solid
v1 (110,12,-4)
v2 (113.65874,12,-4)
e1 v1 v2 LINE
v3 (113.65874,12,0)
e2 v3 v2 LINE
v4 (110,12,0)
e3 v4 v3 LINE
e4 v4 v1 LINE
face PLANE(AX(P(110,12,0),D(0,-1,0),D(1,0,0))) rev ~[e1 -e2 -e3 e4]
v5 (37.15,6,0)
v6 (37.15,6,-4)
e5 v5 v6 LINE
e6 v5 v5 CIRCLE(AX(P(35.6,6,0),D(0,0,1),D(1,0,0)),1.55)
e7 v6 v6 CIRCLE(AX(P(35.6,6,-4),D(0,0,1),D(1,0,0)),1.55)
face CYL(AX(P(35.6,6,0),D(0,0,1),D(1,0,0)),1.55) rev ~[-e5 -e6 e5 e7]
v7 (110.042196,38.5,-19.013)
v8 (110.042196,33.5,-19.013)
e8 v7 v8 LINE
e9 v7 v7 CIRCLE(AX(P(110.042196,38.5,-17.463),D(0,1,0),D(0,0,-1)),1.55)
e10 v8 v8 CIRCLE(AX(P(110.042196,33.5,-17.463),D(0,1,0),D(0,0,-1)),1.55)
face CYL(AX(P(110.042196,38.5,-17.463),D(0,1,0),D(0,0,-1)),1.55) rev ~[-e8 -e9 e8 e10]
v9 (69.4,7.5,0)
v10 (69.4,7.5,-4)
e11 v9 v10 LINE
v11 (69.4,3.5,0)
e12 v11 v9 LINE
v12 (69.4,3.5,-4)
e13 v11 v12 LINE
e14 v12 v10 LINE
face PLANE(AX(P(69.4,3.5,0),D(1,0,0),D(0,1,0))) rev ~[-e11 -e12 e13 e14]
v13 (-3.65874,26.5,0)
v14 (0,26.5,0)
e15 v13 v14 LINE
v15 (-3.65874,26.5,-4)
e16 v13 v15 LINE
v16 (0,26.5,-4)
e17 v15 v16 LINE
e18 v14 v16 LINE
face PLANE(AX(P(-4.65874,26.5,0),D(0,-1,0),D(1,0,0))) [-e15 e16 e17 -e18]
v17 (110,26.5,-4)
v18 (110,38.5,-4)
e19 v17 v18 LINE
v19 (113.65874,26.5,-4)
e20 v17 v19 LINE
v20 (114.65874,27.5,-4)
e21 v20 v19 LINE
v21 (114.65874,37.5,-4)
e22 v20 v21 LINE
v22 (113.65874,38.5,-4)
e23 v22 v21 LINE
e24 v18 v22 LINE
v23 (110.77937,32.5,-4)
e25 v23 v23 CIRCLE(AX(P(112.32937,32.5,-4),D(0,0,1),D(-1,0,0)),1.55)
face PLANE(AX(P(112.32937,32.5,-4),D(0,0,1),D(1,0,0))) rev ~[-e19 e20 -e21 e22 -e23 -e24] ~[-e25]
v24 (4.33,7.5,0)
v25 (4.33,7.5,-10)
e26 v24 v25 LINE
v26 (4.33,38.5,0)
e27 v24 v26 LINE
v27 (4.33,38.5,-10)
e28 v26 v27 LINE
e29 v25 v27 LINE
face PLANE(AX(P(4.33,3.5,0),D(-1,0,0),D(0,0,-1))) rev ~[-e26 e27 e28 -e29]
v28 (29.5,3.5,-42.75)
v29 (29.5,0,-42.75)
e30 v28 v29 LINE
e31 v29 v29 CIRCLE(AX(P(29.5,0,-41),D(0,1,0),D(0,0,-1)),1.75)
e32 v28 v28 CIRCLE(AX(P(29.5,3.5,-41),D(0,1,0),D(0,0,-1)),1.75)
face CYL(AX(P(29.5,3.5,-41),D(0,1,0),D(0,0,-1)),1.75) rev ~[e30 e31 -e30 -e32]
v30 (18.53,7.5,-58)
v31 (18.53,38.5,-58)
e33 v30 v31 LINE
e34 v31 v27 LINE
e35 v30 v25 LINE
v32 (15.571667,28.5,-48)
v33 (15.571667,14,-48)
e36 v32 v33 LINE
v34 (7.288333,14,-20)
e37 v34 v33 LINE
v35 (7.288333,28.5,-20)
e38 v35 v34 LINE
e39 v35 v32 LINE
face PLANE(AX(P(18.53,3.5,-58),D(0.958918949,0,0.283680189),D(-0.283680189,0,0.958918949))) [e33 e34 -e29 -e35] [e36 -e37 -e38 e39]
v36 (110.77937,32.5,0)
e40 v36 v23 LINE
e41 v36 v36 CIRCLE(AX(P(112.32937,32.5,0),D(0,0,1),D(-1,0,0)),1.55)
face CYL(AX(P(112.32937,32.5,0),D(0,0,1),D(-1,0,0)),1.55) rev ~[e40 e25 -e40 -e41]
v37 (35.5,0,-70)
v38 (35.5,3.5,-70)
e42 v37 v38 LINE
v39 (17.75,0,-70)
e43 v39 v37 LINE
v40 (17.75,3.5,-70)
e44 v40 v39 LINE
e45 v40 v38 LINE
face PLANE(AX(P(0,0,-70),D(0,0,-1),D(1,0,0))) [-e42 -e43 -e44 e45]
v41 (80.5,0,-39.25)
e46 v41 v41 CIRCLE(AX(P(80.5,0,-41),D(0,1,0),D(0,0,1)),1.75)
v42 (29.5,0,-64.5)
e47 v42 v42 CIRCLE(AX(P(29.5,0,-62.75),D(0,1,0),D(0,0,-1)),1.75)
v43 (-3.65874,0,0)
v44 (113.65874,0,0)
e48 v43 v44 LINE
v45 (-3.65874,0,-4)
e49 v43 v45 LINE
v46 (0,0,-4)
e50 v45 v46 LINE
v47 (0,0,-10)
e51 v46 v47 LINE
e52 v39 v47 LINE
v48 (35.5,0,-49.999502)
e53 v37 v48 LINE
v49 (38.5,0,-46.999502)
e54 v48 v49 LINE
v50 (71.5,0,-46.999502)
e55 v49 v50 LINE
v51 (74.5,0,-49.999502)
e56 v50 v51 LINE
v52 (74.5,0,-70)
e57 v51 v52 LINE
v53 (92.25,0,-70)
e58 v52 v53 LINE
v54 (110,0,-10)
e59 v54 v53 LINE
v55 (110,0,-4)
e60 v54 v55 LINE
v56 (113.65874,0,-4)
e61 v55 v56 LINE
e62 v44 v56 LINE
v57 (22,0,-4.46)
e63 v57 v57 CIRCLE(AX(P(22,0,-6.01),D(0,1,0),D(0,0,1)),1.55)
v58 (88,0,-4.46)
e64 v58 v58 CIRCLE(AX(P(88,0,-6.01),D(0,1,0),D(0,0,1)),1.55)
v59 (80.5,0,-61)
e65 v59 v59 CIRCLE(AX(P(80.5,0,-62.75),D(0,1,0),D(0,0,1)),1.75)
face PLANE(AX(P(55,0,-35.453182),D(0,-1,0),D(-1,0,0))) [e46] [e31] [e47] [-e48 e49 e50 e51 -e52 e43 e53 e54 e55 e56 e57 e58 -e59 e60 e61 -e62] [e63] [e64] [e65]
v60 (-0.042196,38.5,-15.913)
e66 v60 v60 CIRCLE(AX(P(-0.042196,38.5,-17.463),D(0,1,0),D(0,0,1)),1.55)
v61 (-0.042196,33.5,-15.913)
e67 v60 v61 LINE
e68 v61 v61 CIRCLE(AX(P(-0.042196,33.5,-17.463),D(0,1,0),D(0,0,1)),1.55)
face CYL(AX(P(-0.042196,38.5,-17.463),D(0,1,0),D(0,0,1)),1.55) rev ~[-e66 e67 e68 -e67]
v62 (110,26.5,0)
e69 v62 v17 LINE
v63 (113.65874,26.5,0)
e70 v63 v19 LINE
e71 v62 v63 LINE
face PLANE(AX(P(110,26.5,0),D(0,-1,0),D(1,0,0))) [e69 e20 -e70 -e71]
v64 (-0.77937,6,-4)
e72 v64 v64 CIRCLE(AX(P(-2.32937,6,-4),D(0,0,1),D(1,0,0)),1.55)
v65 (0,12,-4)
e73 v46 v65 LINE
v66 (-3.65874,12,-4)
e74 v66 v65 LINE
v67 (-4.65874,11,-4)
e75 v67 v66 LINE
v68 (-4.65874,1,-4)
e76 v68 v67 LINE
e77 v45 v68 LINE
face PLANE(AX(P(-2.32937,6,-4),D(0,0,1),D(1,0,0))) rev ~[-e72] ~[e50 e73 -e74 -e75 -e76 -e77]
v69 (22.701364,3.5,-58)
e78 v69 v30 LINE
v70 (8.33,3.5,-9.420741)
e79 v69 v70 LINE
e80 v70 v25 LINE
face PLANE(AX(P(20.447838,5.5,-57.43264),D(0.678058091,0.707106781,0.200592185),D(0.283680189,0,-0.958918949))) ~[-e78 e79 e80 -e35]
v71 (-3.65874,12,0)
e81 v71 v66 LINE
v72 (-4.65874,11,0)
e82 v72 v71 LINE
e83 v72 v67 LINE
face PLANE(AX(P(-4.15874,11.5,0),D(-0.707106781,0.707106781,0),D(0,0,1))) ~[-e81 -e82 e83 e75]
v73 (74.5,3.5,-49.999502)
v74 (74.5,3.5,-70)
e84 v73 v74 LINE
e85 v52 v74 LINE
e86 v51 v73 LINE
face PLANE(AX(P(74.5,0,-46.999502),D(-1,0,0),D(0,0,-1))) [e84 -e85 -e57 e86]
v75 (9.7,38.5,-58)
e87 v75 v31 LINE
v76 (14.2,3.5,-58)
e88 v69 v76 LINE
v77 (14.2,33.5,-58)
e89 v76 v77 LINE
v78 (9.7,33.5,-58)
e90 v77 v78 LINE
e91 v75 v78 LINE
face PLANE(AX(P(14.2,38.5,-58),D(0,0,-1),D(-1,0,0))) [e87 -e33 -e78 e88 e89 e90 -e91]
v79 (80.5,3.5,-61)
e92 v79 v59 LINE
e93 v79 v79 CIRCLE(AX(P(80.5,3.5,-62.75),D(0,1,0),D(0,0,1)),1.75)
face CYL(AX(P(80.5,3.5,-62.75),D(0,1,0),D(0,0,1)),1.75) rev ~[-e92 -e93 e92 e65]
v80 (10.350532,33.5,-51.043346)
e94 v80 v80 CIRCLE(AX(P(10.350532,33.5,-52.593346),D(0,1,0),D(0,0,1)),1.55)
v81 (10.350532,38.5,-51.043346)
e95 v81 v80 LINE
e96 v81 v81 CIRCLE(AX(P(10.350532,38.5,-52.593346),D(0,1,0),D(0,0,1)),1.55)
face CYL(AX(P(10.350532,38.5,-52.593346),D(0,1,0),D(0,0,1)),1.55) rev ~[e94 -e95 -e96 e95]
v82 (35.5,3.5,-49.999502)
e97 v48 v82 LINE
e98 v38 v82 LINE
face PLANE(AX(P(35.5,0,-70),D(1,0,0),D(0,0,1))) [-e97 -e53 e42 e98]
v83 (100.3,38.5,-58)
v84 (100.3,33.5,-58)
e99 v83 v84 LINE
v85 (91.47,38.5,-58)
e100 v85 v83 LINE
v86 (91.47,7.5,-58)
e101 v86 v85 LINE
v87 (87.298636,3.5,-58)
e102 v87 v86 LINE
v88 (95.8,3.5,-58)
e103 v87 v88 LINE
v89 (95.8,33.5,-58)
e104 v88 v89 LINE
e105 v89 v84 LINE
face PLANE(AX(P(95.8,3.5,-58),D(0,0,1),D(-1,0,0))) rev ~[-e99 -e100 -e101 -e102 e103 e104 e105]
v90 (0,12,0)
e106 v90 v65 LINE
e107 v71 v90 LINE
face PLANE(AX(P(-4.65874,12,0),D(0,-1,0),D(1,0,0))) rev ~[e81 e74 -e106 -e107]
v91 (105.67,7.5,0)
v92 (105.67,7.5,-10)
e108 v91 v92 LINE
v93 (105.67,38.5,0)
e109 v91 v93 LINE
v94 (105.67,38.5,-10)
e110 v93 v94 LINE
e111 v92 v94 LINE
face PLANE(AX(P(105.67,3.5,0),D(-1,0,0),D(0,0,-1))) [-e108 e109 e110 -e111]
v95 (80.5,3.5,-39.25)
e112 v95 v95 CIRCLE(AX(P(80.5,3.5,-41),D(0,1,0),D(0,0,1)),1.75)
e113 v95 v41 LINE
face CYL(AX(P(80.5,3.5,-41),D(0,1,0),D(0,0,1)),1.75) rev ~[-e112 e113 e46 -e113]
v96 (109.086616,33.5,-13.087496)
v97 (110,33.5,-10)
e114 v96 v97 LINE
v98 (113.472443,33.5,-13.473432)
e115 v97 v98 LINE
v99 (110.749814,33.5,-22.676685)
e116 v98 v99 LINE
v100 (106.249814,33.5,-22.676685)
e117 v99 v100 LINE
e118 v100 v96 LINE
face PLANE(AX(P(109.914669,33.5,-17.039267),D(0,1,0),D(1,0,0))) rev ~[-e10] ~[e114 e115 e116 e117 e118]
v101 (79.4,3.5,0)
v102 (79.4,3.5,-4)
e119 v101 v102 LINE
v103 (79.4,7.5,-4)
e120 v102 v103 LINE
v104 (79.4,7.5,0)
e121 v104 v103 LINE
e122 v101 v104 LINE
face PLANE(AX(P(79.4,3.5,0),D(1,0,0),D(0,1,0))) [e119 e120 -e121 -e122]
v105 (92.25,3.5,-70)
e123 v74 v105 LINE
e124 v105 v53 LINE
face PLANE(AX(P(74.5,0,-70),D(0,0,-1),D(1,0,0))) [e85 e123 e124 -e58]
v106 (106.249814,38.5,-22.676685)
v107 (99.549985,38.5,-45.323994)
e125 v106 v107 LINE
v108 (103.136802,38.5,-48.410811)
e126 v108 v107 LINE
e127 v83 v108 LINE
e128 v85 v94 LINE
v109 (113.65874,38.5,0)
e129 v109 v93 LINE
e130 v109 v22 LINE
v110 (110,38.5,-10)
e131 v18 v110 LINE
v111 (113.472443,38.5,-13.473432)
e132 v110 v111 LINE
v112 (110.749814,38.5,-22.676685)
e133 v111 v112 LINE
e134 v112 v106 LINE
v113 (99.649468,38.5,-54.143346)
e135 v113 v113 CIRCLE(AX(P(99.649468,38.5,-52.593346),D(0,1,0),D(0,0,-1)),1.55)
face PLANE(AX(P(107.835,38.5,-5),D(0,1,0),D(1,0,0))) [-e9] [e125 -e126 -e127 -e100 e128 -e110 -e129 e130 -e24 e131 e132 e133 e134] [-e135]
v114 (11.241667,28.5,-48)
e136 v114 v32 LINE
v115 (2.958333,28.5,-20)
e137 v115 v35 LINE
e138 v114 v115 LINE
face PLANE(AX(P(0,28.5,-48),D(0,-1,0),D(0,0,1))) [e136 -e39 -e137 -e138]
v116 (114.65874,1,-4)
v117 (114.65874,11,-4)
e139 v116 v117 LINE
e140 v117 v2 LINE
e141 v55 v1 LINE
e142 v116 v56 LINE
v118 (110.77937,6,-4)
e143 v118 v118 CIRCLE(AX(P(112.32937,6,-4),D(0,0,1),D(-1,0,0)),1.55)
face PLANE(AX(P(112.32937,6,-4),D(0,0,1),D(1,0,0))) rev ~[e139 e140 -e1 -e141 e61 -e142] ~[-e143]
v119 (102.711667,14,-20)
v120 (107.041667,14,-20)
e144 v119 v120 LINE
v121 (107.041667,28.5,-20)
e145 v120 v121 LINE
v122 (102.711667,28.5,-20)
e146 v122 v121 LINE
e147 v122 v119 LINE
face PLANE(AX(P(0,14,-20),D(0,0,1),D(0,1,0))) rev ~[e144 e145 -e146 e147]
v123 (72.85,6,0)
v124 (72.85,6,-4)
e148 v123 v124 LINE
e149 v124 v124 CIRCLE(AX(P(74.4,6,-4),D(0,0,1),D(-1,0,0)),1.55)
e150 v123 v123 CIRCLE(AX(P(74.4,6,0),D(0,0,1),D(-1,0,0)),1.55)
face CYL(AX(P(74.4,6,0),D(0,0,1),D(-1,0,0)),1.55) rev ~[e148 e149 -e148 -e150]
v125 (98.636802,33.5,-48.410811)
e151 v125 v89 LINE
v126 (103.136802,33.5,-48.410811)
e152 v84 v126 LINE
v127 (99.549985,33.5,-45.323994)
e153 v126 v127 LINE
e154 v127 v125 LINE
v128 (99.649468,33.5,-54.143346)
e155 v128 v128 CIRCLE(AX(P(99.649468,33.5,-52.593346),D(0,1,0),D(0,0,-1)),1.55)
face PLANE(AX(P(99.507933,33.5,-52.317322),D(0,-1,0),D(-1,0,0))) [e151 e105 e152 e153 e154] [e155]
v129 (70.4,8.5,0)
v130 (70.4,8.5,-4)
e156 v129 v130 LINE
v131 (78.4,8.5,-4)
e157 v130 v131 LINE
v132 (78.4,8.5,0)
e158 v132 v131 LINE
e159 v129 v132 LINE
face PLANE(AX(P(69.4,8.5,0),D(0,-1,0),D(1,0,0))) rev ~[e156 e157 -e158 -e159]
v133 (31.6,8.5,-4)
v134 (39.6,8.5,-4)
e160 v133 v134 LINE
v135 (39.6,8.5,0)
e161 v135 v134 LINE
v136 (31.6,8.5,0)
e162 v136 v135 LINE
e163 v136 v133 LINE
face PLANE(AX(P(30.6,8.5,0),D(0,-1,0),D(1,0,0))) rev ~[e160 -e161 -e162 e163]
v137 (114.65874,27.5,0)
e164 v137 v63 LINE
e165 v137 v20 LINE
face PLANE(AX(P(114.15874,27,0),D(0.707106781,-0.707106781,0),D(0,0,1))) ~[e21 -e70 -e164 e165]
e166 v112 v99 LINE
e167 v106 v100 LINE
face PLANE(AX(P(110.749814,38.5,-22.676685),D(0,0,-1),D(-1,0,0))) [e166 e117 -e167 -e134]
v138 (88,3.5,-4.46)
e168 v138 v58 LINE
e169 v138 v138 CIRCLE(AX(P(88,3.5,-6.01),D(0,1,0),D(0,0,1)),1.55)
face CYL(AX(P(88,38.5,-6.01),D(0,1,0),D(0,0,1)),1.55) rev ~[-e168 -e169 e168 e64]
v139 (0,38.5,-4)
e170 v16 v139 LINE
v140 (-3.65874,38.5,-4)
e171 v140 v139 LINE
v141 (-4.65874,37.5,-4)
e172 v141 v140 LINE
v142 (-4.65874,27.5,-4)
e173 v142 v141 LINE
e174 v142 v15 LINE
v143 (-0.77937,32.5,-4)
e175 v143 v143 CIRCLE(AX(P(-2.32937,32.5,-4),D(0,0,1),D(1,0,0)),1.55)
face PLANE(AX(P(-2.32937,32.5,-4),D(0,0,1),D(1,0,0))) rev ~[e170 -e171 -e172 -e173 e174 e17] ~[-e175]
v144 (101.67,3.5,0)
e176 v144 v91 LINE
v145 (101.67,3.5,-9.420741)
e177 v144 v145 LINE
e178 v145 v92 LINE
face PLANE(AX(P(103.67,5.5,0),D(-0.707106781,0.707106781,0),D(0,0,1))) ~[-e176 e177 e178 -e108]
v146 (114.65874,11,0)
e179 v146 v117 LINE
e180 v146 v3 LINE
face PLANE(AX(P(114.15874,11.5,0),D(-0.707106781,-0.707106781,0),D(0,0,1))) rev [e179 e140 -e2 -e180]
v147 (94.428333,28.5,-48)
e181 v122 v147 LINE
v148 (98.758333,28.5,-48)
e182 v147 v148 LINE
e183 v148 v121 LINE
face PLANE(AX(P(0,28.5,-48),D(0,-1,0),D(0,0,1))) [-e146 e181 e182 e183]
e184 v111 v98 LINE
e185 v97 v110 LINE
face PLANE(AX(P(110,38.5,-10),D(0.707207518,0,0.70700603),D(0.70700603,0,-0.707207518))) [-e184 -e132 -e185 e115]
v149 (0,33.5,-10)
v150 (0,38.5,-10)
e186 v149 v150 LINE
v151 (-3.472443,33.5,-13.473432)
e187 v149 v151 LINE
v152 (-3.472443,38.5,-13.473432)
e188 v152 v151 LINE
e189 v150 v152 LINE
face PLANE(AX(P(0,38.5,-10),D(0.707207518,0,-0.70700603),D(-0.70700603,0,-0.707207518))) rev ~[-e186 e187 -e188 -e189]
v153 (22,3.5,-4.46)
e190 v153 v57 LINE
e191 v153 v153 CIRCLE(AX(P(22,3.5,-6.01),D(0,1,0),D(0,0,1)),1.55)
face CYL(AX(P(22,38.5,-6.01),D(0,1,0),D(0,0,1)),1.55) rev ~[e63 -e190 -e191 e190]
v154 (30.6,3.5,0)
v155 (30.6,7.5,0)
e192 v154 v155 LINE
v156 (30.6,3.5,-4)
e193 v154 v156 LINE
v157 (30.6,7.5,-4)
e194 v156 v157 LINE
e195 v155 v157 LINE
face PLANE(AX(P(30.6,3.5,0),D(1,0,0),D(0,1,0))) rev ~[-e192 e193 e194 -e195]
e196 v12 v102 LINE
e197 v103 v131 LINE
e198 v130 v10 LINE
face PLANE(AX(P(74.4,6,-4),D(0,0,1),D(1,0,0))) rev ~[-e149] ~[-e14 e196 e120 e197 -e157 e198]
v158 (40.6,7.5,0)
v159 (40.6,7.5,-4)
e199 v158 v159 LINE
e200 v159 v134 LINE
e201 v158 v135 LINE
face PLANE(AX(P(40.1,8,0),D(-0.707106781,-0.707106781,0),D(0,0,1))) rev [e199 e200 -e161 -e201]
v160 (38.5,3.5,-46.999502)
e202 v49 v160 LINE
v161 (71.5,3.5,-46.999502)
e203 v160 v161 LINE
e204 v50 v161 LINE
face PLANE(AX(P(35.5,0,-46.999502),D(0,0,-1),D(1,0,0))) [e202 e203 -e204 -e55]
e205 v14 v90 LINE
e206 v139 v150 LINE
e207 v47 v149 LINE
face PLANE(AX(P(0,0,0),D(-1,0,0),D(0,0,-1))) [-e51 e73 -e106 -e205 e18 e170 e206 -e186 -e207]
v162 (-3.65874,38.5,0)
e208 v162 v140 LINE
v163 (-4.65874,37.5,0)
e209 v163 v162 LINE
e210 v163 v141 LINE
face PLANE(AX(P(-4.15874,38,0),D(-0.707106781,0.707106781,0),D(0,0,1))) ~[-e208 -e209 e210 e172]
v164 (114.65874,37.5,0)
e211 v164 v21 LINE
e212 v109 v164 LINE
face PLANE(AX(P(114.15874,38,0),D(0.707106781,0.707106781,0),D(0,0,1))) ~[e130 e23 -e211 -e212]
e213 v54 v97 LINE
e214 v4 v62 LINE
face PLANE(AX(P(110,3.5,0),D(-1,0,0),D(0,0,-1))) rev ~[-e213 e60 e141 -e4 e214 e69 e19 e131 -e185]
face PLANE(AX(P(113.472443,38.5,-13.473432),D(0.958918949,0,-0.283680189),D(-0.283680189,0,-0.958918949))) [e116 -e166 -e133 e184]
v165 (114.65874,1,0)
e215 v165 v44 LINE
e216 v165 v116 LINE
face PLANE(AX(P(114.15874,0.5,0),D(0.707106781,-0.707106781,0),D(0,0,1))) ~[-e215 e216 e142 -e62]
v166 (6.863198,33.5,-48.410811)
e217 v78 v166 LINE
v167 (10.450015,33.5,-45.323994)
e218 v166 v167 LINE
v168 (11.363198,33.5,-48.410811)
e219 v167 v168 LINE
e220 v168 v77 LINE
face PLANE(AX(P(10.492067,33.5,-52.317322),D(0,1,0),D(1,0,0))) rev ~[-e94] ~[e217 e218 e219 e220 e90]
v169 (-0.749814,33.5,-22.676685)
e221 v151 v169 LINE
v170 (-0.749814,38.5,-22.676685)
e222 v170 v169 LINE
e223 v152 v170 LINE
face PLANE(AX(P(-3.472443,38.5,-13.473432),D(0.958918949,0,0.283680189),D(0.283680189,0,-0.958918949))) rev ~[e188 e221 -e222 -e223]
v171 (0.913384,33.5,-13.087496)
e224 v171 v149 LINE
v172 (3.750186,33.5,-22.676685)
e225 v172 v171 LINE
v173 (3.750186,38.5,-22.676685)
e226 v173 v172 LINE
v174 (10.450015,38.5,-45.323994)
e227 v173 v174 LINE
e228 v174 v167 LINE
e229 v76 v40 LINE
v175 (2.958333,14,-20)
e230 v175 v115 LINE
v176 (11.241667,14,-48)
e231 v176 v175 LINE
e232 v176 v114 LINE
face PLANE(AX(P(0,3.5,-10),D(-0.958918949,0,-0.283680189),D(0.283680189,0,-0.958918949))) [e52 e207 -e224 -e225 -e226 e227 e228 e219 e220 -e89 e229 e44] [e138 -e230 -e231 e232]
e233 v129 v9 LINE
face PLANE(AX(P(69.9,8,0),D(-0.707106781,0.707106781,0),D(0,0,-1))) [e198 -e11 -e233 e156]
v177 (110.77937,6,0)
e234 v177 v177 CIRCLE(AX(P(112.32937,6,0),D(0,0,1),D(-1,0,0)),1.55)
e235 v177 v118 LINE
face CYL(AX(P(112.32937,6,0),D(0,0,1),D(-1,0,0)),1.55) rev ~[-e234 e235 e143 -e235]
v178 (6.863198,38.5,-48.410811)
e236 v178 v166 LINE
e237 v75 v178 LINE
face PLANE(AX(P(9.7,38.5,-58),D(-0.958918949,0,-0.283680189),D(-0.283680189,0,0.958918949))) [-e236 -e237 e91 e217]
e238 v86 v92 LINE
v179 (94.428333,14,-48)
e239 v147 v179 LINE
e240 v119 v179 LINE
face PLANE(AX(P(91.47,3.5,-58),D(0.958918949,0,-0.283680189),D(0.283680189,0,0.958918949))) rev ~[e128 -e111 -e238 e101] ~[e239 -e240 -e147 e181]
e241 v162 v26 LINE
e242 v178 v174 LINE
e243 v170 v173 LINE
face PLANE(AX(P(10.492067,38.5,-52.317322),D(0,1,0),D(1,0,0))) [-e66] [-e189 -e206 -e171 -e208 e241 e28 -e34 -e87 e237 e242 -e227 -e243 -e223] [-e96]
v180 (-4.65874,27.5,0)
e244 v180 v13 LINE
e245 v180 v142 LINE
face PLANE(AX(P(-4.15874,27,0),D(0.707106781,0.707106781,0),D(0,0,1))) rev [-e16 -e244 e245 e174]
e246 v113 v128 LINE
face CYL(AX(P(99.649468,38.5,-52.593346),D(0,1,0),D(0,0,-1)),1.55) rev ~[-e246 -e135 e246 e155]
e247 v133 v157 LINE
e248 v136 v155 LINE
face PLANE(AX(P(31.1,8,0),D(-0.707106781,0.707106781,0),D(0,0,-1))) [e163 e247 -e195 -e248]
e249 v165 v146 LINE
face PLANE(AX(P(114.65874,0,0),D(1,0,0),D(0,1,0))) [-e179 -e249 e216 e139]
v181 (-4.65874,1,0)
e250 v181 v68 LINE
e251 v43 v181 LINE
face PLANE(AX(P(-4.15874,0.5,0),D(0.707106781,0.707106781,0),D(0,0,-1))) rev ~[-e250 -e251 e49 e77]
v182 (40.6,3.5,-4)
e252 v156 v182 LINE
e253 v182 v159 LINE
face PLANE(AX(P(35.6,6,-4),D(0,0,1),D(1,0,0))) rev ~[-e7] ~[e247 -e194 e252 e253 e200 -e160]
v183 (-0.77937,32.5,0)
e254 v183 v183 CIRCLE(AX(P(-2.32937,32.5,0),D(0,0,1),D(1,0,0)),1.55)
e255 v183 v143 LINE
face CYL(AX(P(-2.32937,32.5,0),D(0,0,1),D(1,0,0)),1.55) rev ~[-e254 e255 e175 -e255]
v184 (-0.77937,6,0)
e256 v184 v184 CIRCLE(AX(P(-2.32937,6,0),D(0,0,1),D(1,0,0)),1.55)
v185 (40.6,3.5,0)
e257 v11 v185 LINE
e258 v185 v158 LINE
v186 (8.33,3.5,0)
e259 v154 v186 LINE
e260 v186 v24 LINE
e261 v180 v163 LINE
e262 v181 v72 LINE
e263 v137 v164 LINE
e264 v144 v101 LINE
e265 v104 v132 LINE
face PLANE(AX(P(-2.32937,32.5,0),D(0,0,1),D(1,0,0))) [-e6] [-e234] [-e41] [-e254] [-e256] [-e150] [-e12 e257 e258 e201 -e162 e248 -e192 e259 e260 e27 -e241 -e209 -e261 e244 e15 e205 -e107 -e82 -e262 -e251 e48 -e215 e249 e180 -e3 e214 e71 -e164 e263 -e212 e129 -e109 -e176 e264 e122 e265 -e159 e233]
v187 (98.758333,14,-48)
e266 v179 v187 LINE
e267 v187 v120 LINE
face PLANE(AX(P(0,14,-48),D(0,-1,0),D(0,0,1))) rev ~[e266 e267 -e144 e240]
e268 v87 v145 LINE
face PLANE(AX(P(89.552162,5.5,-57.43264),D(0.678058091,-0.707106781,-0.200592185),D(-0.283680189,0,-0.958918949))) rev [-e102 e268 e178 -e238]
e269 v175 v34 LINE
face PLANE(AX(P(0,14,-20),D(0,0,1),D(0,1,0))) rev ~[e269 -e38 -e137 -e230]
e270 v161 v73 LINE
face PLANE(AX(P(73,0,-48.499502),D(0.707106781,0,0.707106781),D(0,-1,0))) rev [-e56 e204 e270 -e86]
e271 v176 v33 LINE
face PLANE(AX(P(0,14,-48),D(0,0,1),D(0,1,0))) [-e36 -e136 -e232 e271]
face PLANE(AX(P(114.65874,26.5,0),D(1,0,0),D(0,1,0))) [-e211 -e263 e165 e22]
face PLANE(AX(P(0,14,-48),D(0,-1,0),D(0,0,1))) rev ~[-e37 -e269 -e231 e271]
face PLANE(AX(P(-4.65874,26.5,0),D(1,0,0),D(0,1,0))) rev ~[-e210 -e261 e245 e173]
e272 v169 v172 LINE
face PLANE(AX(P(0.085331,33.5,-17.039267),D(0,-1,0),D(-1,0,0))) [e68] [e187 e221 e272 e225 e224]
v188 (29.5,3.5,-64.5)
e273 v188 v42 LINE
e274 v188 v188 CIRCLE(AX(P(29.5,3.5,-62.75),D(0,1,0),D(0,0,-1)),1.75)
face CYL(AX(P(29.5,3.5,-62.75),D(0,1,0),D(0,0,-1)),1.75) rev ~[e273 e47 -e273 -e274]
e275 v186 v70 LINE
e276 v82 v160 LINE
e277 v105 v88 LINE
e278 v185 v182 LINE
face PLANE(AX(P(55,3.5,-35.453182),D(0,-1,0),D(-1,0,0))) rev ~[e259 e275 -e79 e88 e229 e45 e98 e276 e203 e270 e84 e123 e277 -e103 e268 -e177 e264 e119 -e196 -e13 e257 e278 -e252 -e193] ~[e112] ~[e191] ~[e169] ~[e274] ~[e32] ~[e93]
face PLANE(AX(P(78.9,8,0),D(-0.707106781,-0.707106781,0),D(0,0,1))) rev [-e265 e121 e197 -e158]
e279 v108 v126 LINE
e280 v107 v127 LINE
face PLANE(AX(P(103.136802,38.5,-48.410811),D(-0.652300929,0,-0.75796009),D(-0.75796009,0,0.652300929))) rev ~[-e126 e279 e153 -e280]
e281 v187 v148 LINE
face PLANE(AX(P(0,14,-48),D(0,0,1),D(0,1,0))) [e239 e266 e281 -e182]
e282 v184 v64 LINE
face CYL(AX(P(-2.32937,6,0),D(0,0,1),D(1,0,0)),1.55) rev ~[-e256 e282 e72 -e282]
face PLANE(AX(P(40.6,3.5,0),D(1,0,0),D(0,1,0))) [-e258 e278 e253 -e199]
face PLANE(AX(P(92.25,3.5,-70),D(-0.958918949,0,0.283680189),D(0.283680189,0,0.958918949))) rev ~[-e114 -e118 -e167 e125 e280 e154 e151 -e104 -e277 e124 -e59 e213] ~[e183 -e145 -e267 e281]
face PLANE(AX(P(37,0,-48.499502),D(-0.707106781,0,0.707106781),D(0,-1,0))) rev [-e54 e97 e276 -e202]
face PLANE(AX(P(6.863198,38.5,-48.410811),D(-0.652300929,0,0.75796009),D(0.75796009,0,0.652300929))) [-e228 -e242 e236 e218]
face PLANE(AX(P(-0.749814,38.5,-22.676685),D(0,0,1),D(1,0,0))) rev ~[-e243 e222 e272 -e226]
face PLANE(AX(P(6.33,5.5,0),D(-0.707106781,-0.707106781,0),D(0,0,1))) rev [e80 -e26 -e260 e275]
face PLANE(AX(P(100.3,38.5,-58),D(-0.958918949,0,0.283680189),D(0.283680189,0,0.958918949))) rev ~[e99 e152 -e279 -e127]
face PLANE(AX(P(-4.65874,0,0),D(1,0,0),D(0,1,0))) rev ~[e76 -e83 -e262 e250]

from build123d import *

# Parameters (mm, degrees)
BOSS_EXTRUDE1_DEPTH = 3.5
FILLET1_SIZE        = 3
SKETCH4_W           = 4.33
SKETCH4_H           = 10
BOSS_EXTRUDE2_DEPTH = 35
SKETCH5_W           = 10
SKETCH5_H           = 5
SKETCH5_R           = 1.55
SKETCH5_W_2         = 4.658740085
SKETCH5_H_2         = 12
BOSS_EXTRUDE3_DEPTH = 4
FILLET2_SIZE        = 1
CUT_EXTRUDE1_DEPTH  = 14
BOSS_EXTRUDE4_DEPTH = 35
SKETCH9_W           = 28
SKETCH9_H           = 14.5
CUT_EXTRUDE2_DEPTH  = 117
SKETCH10_R          = 1.75
CUT_EXTRUDE3_DEPTH  = 117
FILLET3_SIZE        = 4
SKETCH11_R          = 1.55
CUT_EXTRUDE4_DEPTH  = 95
SKETCH12_R          = 1.55
BOSS_EXTRUDE5_DEPTH = 5


with BuildPart() as part:
    # Sketch1 → Boss-Extrude1 (new body)
    with BuildSketch(Plane(origin=(0, 0, 0), x_dir=(1, 0, 0), z_dir=(0, 1, 0))):
        Polygon((35.5, 70), (35.5, 46.99950249), (74.5, 46.99950249), (74.5, 70), (110, 70), (110, 0), (0, 0), (0, 70), align=None)
    extrude(amount=BOSS_EXTRUDE1_DEPTH)

    # Fillet1
    fillet1_edges = [part.edges().sort_by_distance(p)[0] for p in [
        (35.5, 1.75, -46.99950249),
        (74.5, 1.75, -46.99950249),
    ]]
    chamfer(fillet1_edges, length=FILLET1_SIZE)

    # Sketch4 → Boss-Extrude2 (add)
    with BuildSketch(Plane(origin=(0, 3.5, 0), x_dir=(1, 0, 0), z_dir=(0, 1, 0))):
        with Locations((107.835, 5)):
            Rectangle(SKETCH4_W, SKETCH4_H)
        with Locations((2.165, 5)):
            Rectangle(SKETCH4_W, SKETCH4_H)
    extrude(amount=BOSS_EXTRUDE2_DEPTH)

    # Sketch5 → Boss-Extrude3 (add)
    # profile 1 of 6: a face of its own
    with BuildSketch(Plane.XY):
        with Locations((35.6, 6)):
            Rectangle(SKETCH5_W, SKETCH5_H)
        with Locations((35.6, 6)):
            Circle(SKETCH5_R, mode=Mode.SUBTRACT)
    # profile 2 of 6: a face of its own
    with BuildSketch(Plane.XY):
        with Locations((-2.329370043, 32.5)):
            Rectangle(SKETCH5_W_2, SKETCH5_H_2)
        with Locations((-2.329370042, 32.5)):
            Circle(SKETCH5_R, mode=Mode.SUBTRACT)
    # profile 3 of 6: a face of its own
    with BuildSketch(Plane.XY):
        with Locations((-2.329370043, 6)):
            Rectangle(SKETCH5_W_2, SKETCH5_H_2)
        with Locations((-2.329370042, 6)):
            Circle(SKETCH5_R, mode=Mode.SUBTRACT)
    # profile 4 of 6: a face of its own
    with BuildSketch(Plane.XY):
        with Locations((74.4, 6)):
            Rectangle(SKETCH5_W, SKETCH5_H)
        with Locations(Location((74.4, 6, 0), (0, 0, 180))):
            Circle(SKETCH5_R, mode=Mode.SUBTRACT)
    # profile 5 of 6: a face of its own
    with BuildSketch(Plane.XY):
        with Locations((112.329370043, 6)):
            Rectangle(SKETCH5_W_2, SKETCH5_H_2)
        with Locations(Location((112.329370042, 6, 0), (0, 0, 180))):
            Circle(SKETCH5_R, mode=Mode.SUBTRACT)
    # profile 6 of 6: a face of its own
    with BuildSketch(Plane.XY):
        with Locations((112.329370043, 32.5)):
            Rectangle(SKETCH5_W_2, SKETCH5_H_2)
        with Locations(Location((112.329370042, 32.5, 0), (0, 0, 180))):
            Circle(SKETCH5_R, mode=Mode.SUBTRACT)
    extrude(amount=-BOSS_EXTRUDE3_DEPTH)

    # Fillet2
    fillet2_edges = [part.edges().sort_by_distance(p)[0] for p in [
        (69.4, 8.5, -2),
        (79.4, 8.5, -2),
        (114.658740085, 12, -2),
        (114.658740085, 0, -2),
        (114.658740085, 38.5, -2),
        (114.658740085, 26.5, -2),
        (40.6, 8.5, -2),
        (30.6, 8.5, -2),
        (-4.658740085, 26.5, -2),
        (-4.658740085, 38.5, -2),
        (-4.658740085, 0, -2),
        (-4.658740085, 12, -2),
    ]]
    chamfer(fillet2_edges, length=FILLET2_SIZE)

    # Sketch6 → Cut-Extrude1 (cut)
    with BuildSketch(Plane(origin=(0, 3.5, 0), x_dir=(1, 0, 0), z_dir=(0, 1, 0))):
        Polygon((0, 10), (17.75, 70), (0, 70), align=None)
        Polygon((110, 70), (92.25, 70), (110, 10), align=None)
    extrude(amount=-CUT_EXTRUDE1_DEPTH, mode=Mode.SUBTRACT)

    # Sketch8 → Boss-Extrude4 (add)
    with BuildSketch(Plane(origin=(0, 3.5, 0), x_dir=(1, 0, 0), z_dir=(0, 1, 0))):
        Polygon((0, 10), (14.2, 58), (18.53, 58), (4.33, 10), align=None)
        Polygon((91.47, 58), (105.67, 10), (110, 10), (95.8, 58), align=None)
    extrude(amount=BOSS_EXTRUDE4_DEPTH)

    # Sketch9 → Cut-Extrude2 (cut)
    with BuildSketch(Plane.ZY):
        with Locations((-34, 21.25)):
            Rectangle(SKETCH9_W, SKETCH9_H)
    extrude(amount=-CUT_EXTRUDE2_DEPTH, mode=Mode.SUBTRACT)

    # Sketch10 → Cut-Extrude3 (cut)
    with BuildSketch(Plane(origin=(0, 3.5, 0), x_dir=(1, 0, 0), z_dir=(0, 1, 0))):
        with Locations(Location((80.5, 62.75, 0), (0, 0, 270))):
            Circle(SKETCH10_R)
        with Locations(Location((80.5, 41, 0), (0, 0, 270))):
            Circle(SKETCH10_R)
        with Locations(Location((29.5, 41, 0), (0, 0, 90))):
            Circle(SKETCH10_R)
        with Locations(Location((29.5, 62.75, 0), (0, 0, 90))):
            Circle(SKETCH10_R)
    extrude(amount=-CUT_EXTRUDE3_DEPTH, mode=Mode.SUBTRACT)

    # Fillet3
    fillet3_edges = [part.edges().sort_by_distance(p)[0] for p in [
        (11.43, 3.5, -34),
        (98.57, 3.5, -34),
        (4.33, 3.5, -5),
        (105.67, 3.5, -5),
    ]]
    chamfer(fillet3_edges, length=FILLET3_SIZE)

    # Sketch11 → Cut-Extrude4 (cut)
    with BuildSketch(Plane(origin=(0, 38.5, 0), x_dir=(1, 0, 0), z_dir=(0, 1, 0))):
        with Locations(Location((88, 6.01, 0), (0, 0, 270))):
            Circle(SKETCH11_R)
        with Locations(Location((22, 6.01, 0), (0, 0, 270))):
            Circle(SKETCH11_R)
    extrude(amount=-CUT_EXTRUDE4_DEPTH, mode=Mode.SUBTRACT)

    # Sketch12 → Boss-Extrude5 (add)
    # profile 1 of 4: a face of its own
    with BuildSketch(Plane(origin=(0, 38.5, 0), x_dir=(1, 0, 0), z_dir=(0, 1, 0))):
        Polygon((14.2, 58), (9.7, 58), (6.86319811, 48.410810512), (10.45001483, 45.323993792), (11.36319811, 48.410810512), align=None)
        with Locations(Location((10.350531543, 52.593346062, 0), (0, 0, 270))):
            Circle(SKETCH12_R, mode=Mode.SUBTRACT)
    # profile 2 of 4: a face of its own
    with BuildSketch(Plane(origin=(0, 38.5, 0), x_dir=(1, 0, 0), z_dir=(0, 1, 0))):
        Polygon((3.75018599, 22.676685036), (0.9133841, 13.087495548), (0, 10), (-3.472442888, 13.473432491), (-0.74981401, 22.676685036), align=None)
        with Locations(Location((-0.042195961, 17.462999569, 0), (0, 0, 270))):
            Circle(SKETCH12_R, mode=Mode.SUBTRACT)
    # profile 3 of 4: a face of its own
    with BuildSketch(Plane(origin=(0, 38.5, 0), x_dir=(1, 0, 0), z_dir=(0, 1, 0))):
        Polygon((110.74981401, 22.676685036), (106.24981401, 22.676685036), (109.0866159, 13.087495548), (110, 10), (113.472442888, 13.473432491), align=None)
        with Locations(Location((110.042195961, 17.462999569, 0), (0, 0, 90))):
            Circle(SKETCH12_R, mode=Mode.SUBTRACT)
    # profile 4 of 4: a face of its own
    with BuildSketch(Plane(origin=(0, 38.5, 0), x_dir=(1, 0, 0), z_dir=(0, 1, 0))):
        Polygon((103.13680189, 48.410810512), (99.54998517, 45.323993792), (98.63680189, 48.410810512), (95.8, 58), (100.3, 58), align=None)
        with Locations(Location((99.649468457, 52.593346062, 0), (0, 0, 90))):
            Circle(SKETCH12_R, mode=Mode.SUBTRACT)
    extrude(amount=-BOSS_EXTRUDE5_DEPTH)


solid = part.part
